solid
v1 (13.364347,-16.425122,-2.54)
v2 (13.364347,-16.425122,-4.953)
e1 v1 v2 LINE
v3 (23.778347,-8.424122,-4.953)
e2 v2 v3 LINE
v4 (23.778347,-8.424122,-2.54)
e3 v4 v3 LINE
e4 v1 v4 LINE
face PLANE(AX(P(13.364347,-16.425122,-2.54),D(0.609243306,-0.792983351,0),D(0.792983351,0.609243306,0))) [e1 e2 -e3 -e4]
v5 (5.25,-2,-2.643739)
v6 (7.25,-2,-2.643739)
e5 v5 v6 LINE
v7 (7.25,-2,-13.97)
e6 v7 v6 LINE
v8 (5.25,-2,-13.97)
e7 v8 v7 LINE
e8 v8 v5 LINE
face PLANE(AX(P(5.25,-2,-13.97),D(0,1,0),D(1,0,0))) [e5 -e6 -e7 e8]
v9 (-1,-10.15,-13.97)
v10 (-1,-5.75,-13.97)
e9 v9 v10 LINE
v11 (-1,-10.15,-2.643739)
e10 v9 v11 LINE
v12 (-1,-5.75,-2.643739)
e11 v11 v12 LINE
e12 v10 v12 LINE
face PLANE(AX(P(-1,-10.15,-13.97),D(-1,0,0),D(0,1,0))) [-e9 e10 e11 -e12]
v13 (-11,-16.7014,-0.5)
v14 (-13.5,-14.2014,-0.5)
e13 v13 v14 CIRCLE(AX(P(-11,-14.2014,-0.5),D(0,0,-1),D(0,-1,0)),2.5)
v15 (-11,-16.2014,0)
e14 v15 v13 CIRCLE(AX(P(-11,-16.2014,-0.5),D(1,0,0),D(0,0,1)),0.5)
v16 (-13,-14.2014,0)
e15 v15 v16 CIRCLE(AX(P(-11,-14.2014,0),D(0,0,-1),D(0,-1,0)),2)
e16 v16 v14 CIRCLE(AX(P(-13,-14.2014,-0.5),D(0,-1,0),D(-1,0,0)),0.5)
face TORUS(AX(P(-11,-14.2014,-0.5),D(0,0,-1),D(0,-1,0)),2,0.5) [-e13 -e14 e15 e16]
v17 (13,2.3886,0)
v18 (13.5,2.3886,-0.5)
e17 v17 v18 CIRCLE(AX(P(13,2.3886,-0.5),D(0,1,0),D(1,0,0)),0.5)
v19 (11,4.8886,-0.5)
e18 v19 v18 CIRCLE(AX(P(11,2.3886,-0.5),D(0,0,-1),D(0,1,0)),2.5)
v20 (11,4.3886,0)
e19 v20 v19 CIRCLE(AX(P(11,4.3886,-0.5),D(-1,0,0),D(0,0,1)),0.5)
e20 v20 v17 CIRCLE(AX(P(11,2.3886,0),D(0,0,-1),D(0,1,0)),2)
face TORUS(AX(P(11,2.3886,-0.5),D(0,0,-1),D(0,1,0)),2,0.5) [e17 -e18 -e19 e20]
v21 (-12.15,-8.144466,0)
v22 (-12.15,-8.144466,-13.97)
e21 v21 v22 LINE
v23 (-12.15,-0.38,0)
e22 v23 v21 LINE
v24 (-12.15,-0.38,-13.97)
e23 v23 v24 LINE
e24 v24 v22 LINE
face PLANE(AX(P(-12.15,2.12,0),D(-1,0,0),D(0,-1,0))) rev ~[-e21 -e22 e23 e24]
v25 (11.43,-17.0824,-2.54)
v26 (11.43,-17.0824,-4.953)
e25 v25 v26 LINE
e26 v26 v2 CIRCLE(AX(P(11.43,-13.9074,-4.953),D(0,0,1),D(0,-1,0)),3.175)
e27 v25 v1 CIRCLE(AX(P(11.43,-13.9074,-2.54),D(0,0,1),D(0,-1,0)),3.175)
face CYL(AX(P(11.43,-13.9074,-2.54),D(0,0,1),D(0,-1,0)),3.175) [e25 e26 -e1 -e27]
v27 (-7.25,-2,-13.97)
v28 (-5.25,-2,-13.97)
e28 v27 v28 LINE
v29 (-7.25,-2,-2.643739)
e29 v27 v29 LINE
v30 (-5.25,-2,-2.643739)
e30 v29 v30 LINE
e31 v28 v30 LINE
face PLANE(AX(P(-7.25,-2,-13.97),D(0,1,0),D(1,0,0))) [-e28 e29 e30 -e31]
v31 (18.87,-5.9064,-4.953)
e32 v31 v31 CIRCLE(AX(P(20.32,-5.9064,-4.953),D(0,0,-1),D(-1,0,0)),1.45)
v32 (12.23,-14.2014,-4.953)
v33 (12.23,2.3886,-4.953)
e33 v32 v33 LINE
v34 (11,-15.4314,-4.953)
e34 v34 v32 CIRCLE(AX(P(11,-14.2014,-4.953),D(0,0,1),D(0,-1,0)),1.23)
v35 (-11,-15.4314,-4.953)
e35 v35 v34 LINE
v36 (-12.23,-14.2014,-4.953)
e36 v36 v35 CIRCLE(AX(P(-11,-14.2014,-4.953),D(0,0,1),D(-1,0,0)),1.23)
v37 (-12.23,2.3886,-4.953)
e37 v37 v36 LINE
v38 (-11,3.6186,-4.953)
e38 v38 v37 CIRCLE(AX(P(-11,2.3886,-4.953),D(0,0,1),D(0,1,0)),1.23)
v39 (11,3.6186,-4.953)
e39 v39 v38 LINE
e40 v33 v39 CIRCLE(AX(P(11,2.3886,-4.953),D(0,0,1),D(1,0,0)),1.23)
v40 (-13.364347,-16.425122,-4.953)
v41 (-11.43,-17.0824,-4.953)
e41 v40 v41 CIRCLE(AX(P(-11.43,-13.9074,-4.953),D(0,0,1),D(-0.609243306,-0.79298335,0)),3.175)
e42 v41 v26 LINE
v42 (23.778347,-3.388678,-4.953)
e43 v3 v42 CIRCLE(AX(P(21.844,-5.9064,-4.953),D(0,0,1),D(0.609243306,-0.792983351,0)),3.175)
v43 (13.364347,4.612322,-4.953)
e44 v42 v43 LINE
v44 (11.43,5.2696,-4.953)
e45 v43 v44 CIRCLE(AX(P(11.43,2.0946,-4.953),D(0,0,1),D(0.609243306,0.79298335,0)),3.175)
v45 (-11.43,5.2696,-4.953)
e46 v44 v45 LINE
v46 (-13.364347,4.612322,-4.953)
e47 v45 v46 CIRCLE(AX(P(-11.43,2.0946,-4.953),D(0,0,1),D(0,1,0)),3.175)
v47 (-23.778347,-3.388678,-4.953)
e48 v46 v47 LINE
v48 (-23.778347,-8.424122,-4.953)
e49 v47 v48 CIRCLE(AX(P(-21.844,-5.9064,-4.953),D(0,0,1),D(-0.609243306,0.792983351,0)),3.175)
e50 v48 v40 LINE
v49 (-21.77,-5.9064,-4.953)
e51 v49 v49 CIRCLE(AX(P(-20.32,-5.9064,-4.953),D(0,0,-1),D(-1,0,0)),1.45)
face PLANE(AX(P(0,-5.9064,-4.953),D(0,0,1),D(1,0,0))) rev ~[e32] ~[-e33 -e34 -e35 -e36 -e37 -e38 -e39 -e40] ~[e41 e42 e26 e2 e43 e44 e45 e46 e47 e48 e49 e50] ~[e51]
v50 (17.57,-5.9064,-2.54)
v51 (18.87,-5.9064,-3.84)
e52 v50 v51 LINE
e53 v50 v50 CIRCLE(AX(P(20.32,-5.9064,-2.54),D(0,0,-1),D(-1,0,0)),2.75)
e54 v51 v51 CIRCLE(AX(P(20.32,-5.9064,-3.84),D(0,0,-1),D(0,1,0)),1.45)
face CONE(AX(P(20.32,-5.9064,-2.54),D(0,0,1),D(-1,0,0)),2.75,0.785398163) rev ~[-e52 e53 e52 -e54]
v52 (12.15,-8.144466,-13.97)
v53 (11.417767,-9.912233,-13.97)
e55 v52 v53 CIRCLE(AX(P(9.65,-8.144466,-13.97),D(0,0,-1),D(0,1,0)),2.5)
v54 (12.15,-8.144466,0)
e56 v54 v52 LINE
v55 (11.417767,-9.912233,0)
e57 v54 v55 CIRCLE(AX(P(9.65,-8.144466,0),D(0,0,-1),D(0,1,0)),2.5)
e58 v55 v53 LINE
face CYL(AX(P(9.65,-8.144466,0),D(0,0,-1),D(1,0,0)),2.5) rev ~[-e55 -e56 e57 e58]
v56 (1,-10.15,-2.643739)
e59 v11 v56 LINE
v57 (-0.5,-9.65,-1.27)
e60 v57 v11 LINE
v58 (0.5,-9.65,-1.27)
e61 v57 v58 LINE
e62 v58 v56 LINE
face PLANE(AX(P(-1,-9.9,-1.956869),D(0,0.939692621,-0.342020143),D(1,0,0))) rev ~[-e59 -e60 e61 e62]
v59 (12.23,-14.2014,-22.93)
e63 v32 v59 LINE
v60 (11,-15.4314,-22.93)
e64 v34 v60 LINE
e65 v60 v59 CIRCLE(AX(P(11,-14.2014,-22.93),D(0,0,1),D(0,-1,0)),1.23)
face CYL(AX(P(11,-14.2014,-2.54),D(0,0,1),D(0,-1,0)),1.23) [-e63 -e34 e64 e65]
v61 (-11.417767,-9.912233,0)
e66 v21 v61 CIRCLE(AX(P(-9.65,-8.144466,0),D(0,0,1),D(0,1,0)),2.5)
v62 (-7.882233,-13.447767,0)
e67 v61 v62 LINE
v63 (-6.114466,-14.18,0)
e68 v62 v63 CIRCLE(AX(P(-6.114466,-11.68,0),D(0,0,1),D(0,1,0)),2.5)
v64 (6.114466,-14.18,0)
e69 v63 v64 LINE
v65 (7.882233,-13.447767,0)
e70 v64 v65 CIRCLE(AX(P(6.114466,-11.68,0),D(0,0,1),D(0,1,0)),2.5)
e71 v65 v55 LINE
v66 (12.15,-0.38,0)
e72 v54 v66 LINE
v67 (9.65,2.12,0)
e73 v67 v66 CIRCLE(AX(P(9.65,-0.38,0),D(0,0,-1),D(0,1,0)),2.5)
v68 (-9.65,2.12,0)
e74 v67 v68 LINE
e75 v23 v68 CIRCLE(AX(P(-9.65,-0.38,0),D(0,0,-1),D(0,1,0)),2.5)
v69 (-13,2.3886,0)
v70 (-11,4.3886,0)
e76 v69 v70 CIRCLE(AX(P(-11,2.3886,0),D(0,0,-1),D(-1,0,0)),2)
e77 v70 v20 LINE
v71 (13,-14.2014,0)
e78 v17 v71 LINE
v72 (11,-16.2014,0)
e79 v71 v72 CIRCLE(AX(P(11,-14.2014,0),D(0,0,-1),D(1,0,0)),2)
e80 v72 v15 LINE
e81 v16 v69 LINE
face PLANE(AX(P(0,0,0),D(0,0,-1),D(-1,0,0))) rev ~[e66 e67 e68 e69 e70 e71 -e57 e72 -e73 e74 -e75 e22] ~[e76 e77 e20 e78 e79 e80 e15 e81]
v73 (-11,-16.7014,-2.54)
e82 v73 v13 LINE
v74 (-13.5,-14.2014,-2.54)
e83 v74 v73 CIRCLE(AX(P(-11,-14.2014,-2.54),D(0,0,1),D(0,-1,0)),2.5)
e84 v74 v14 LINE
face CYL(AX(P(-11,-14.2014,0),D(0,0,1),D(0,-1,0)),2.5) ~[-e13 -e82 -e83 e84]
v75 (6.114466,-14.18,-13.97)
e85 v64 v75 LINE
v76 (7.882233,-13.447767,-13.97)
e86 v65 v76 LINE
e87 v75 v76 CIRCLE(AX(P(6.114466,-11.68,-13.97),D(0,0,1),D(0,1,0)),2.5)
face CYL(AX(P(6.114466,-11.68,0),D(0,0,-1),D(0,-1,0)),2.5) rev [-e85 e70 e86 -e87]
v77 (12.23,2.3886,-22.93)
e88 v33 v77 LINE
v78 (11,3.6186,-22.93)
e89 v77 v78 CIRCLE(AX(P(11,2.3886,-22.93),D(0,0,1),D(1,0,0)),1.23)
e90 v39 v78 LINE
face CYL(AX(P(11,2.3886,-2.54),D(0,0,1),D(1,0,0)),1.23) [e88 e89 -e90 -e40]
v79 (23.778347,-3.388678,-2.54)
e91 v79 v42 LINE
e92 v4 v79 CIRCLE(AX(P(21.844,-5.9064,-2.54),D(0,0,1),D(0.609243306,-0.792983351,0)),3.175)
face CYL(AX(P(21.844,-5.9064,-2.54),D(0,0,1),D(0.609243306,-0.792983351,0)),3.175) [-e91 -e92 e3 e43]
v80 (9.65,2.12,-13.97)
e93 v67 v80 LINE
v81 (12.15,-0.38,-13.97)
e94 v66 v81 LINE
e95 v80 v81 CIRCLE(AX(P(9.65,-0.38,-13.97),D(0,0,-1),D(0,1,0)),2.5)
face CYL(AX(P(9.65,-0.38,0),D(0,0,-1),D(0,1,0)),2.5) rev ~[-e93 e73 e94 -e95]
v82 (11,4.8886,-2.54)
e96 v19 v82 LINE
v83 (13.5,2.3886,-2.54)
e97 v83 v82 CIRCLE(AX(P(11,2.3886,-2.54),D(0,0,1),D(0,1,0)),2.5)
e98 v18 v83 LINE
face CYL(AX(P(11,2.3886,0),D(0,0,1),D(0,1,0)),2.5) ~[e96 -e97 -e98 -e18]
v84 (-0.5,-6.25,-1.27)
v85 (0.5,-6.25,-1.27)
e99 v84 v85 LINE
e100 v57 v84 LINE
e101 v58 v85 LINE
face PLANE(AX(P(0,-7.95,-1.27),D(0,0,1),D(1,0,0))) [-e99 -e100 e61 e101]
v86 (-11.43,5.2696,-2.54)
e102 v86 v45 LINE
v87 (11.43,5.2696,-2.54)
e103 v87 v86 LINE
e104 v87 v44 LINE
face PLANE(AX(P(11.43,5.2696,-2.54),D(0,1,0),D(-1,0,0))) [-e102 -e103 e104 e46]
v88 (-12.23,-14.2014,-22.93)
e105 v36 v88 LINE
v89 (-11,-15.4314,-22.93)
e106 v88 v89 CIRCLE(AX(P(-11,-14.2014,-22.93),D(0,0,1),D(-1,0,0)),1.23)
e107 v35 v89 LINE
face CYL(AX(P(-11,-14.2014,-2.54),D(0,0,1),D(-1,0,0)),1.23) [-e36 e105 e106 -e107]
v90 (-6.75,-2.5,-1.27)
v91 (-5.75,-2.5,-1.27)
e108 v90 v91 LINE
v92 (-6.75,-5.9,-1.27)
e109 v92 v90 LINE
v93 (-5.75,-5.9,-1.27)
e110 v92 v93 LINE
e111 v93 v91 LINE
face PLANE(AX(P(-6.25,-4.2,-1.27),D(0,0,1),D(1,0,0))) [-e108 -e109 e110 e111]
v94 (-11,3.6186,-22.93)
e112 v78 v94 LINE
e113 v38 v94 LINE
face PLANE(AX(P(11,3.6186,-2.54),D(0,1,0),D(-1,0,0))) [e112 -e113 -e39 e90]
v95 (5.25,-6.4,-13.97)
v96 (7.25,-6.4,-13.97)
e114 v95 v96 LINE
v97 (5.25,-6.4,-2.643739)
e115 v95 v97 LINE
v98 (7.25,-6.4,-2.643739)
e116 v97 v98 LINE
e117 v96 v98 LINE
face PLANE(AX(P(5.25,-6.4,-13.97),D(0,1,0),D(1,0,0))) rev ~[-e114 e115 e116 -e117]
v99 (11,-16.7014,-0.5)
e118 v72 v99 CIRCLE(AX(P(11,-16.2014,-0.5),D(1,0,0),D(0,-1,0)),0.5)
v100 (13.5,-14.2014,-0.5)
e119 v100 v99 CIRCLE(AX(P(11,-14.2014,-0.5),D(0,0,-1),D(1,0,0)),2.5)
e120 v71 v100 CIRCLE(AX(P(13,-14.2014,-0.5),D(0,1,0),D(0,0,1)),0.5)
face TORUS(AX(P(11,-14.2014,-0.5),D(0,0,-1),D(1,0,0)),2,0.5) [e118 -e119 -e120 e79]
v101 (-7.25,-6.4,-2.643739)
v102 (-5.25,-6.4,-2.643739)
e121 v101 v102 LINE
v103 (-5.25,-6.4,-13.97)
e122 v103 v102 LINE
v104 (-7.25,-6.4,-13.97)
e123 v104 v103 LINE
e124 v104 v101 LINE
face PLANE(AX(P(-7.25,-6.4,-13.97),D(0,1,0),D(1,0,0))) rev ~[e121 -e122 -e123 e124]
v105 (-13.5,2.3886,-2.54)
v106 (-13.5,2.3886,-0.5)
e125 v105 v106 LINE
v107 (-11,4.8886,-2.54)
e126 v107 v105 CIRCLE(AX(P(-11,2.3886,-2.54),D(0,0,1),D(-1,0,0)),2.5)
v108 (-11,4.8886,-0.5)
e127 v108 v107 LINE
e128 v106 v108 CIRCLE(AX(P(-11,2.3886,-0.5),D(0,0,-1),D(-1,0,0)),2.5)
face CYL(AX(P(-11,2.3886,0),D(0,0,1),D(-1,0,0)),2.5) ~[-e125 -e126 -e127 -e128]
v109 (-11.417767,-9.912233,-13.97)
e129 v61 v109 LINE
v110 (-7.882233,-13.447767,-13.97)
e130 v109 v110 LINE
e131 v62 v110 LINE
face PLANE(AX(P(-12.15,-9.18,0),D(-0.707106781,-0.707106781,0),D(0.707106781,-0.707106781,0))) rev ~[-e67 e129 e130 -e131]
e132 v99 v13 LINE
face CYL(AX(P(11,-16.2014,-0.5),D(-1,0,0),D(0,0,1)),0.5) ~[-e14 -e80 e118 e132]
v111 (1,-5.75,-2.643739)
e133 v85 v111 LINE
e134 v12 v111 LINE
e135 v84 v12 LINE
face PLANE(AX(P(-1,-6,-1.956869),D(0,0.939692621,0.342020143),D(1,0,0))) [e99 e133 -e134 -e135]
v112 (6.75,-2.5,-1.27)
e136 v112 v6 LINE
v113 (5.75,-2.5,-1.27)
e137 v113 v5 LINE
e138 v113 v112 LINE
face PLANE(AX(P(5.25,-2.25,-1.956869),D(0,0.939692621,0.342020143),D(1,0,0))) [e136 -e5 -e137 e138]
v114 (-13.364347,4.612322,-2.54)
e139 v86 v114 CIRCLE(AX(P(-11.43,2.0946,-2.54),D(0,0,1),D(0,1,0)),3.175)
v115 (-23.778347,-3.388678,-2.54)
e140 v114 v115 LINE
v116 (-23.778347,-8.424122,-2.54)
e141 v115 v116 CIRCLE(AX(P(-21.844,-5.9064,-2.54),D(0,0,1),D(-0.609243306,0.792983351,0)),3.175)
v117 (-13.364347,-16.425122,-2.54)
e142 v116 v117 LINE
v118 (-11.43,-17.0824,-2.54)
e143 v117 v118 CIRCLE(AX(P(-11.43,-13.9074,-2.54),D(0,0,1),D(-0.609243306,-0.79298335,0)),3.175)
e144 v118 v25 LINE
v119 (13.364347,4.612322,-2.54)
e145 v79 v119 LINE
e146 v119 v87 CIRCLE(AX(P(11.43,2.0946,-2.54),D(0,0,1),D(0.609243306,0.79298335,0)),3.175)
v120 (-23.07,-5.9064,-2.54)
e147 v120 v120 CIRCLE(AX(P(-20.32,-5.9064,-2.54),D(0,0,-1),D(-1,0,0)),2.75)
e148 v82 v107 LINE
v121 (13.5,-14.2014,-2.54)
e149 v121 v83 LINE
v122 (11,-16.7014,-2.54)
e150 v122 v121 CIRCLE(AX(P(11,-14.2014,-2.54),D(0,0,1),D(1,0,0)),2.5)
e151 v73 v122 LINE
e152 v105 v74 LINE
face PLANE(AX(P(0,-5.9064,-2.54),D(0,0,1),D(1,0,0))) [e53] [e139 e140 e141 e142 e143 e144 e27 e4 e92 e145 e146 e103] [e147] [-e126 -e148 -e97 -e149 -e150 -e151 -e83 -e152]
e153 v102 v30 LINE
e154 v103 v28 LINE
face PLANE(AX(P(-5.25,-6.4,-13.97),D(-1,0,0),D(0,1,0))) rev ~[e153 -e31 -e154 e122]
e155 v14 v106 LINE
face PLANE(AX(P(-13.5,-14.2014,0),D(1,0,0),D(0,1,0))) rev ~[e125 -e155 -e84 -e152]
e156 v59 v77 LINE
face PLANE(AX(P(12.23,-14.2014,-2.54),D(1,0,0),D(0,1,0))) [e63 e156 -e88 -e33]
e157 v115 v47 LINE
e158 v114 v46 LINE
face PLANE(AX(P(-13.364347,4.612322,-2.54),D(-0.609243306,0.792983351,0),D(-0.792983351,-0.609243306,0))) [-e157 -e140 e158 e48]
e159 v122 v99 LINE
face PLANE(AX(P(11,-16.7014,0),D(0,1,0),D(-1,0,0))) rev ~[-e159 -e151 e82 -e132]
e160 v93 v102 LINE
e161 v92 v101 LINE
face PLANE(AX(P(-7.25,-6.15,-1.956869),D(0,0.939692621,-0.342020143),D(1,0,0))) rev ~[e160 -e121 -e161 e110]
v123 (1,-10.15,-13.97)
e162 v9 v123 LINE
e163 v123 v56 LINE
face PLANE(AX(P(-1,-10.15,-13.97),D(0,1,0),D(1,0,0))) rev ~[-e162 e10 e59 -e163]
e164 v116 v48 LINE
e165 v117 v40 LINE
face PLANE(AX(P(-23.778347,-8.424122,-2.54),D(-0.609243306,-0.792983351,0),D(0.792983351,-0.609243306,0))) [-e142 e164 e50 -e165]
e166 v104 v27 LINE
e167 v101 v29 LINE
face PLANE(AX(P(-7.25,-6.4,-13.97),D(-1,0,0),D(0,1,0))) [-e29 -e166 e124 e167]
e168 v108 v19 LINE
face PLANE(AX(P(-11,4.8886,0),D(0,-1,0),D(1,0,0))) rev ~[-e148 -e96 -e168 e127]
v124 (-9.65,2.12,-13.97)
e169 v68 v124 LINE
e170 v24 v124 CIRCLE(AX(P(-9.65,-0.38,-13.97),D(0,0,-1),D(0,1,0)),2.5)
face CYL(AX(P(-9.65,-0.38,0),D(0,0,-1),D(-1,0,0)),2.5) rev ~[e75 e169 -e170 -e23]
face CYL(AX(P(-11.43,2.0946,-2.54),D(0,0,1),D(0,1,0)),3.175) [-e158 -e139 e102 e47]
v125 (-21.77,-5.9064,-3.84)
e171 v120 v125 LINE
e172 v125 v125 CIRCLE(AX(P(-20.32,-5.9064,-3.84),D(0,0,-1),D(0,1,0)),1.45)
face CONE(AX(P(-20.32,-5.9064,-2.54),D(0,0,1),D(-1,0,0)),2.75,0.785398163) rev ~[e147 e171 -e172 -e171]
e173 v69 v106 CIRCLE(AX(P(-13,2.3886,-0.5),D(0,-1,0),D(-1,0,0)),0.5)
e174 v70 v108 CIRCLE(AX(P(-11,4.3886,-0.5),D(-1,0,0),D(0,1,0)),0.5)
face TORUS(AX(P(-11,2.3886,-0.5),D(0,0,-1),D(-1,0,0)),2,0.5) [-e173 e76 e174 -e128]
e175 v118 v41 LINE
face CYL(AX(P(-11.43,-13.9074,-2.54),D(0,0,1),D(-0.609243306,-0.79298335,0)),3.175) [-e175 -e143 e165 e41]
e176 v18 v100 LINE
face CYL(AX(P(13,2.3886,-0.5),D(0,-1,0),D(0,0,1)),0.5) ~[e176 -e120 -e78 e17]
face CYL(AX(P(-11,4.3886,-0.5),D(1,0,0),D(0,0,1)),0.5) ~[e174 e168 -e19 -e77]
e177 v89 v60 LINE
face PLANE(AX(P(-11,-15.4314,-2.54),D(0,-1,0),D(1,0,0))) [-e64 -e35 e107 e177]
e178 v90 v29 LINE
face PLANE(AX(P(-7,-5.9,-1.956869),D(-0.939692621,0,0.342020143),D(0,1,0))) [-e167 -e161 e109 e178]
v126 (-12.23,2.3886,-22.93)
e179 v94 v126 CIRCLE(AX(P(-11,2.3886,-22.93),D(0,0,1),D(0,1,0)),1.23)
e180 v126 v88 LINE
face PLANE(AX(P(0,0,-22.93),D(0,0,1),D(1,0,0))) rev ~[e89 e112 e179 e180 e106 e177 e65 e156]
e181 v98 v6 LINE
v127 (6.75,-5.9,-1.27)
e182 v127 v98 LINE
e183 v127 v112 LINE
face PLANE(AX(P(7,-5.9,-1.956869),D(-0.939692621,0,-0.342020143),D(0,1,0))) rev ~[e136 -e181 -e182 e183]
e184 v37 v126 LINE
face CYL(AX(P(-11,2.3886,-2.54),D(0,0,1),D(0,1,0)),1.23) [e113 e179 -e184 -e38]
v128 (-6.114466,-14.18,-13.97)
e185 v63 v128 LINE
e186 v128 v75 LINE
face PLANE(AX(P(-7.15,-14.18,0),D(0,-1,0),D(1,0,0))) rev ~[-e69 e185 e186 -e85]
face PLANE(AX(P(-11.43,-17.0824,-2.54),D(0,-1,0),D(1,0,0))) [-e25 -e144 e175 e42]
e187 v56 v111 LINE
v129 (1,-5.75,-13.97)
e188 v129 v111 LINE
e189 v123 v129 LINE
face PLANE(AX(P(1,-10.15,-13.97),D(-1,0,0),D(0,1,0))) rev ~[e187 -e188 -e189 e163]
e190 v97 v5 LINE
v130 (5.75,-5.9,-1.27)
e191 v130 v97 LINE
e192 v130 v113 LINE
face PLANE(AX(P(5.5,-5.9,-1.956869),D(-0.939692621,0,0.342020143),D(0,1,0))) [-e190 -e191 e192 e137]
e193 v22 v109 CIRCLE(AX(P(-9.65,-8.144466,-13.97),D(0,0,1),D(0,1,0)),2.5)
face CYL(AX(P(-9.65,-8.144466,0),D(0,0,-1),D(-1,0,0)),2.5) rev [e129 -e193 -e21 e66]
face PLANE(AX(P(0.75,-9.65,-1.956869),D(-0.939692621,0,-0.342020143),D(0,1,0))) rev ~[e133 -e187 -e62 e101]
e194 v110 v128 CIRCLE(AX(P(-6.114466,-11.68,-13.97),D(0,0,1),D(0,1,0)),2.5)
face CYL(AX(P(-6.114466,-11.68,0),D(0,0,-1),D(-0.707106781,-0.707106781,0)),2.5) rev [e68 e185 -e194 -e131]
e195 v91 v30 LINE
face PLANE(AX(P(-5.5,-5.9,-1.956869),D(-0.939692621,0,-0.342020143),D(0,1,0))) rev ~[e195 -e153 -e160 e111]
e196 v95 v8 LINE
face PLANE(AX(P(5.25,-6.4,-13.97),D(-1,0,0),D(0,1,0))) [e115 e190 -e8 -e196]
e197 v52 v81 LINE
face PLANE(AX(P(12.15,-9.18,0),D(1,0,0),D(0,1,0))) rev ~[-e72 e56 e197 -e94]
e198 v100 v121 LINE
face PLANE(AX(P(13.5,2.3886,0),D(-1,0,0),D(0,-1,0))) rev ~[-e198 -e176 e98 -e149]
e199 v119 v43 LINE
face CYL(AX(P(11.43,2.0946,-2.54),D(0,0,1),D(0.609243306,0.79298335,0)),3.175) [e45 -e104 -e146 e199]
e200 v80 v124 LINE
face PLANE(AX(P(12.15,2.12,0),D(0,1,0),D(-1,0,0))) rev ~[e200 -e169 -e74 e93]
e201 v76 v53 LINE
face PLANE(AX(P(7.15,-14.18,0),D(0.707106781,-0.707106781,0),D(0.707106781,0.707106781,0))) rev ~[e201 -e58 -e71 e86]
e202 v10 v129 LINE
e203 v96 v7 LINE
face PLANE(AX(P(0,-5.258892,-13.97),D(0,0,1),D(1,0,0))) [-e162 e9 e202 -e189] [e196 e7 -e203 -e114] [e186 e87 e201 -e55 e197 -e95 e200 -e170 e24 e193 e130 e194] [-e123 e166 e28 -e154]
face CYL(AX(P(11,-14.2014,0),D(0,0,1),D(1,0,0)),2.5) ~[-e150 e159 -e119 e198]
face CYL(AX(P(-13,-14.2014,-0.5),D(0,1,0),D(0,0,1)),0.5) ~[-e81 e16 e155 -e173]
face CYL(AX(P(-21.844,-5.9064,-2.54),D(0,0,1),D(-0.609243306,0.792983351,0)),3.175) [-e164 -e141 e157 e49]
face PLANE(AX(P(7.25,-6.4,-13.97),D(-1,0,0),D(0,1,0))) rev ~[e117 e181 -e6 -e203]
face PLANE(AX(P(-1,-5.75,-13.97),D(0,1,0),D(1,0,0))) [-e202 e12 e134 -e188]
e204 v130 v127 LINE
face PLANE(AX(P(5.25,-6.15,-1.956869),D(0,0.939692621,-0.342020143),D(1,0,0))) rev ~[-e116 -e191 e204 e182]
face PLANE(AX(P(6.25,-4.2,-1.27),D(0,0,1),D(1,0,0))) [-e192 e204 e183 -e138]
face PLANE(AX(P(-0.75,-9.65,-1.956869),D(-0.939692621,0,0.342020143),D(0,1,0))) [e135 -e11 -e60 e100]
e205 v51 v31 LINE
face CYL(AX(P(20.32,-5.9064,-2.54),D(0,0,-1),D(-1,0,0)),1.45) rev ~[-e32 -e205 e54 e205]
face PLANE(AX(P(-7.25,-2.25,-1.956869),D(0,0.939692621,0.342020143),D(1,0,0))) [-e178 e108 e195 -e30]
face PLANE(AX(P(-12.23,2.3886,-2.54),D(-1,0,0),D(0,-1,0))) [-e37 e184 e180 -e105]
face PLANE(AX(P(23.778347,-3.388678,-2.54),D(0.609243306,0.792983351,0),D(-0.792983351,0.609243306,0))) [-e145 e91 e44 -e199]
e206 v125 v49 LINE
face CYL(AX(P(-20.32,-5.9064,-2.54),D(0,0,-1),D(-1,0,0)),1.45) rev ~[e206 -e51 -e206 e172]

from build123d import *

# Parameters (mm, degrees)
EXTRUDE1_DEPTH                                    = 5.15
FILLET1_R                                         = 1
EXTRUDE2_DEPTH                                    = 17.78
EXTRUDE3_DEPTH                                    = 13.97
EXTRUDE4_DEPTH                                    = 3.81
FILLET2_R                                         = 2.5
SKETCH5_W                                         = 2
SKETCH5_H                                         = 4.4
EXTRUDE5_DEPTH                                    = 12.7
CHAMFER1_SIZE                                     = 0.5
CHAMFER1_SIZE2                                    = 1.37373871
CHAMFER1_PART_2_SIZE                              = 0.5
CHAMFER1_PART_2_SIZE2                             = 1.37373871
CHAMFER1_PART_3_SIZE                              = 0.5
CHAMFER1_PART_3_SIZE2                             = 1.37373871
CHAMFER2_SIZE                                     = 0.5
CHAMFER2_SIZE2                                    = 1.37373871
CHAMFER2_PART_2_SIZE                              = 0.5
CHAMFER2_PART_2_SIZE2                             = 1.37373871
CHAMFER2_PART_3_SIZE                              = 0.5
CHAMFER2_PART_3_SIZE2                             = 1.37373871
FILLET3_R                                         = 0.5
SKETCH10_OUTSIDE_W                                = 57.448
SKETCH10_OUTSIDE_H                                = 47.956
EXTRUDE10_DEPTH                                   = 20.12
SKETCH11_OUTSIDE_W                                = 37.296
SKETCH11_OUTSIDE_H                                = 31.886
EXTRUDE11_DEPTH                                   = 21.39
EXTRUDE12_DEPTH                                   = 2.413
CSK_FOR_M2_5_FLAT_HEAD_MACHINE_SCREW1_D           = 2.9
CSK_FOR_M2_5_FLAT_HEAD_MACHINE_SCREW1_CSINK_D     = 5.5
CSK_FOR_M2_5_FLAT_HEAD_MACHINE_SCREW1_CSINK_ANGLE = 90


with BuildPart() as part:
    # Sketch1 → Extrude1 (new body)
    with BuildSketch(Plane.XY):
        with BuildLine():
            Line((-13.6, 17), (13.6, 17))
            Line((13.6, 17), (21.429179607, 1.341640786))
            ThreePointArc((21.429179607, 1.341640786), (21.745898034, 0), (21.429179607, -1.341640786))
            Line((21.429179607, -1.341640786), (13.6, -17))
            Line((13.6, -17), (-13.6, -17))
            Line((-13.6, -17), (-21.429179607, -1.341640786))
            ThreePointArc((-21.429179607, -1.341640786), (-21.745898034, 0), (-21.429179607, 1.341640786))
            Line((-21.429179607, 1.341640786), (-13.6, 17))
        make_face()
    extrude(amount=-EXTRUDE1_DEPTH)

    # Fillet1
    fillet1_edges = [part.edges().sort_by_distance(p)[0] for p in [
        (-13.6, 17, -2.575),
        (13.6, 17, -2.575),
        (13.6, -17, -2.575),
        (-13.6, -17, -2.575),
    ]]
    fillet(fillet1_edges, radius=FILLET1_R)

    # Sketch2 → Extrude2 (add)
    with BuildSketch(Plane(origin=(0, 0, -5.15), x_dir=(-1, 0, 0), z_dir=(0, 0, -1))):
        with BuildLine():
            Line((-12.9, 15.65), (12.9, 15.65))
            ThreePointArc((12.9, 15.65), (13.607106781, 15.357106781), (13.9, 14.65))
            Line((13.9, 14.65), (13.9, -14.65))
            ThreePointArc((13.9, -14.65), (13.607106781, -15.357106781), (12.9, -15.65))
            Line((12.9, -15.65), (-12.9, -15.65))
            ThreePointArc((-12.9, -15.65), (-13.607106781, -15.357106781), (-13.9, -14.65))
            Line((-13.9, -14.65), (-13.9, 14.65))
            ThreePointArc((-13.9, 14.65), (-13.607106781, 15.357106781), (-12.9, 15.65))
        make_face()
    extrude(amount=EXTRUDE2_DEPTH)

    # Sketch3 → Extrude3 (cut)
    with BuildSketch(Plane.XY):
        Polygon((-12.15, -9.18), (-7.15, -14.18), (7.15, -14.18), (12.15, -9.18), (12.15, 2.12), (-12.15, 2.12), align=None)
    extrude(amount=-EXTRUDE3_DEPTH, mode=Mode.SUBTRACT)

    # Sketch4 → Extrude4 (cut)
    with BuildSketch(Plane.XY):
        with BuildLine():
            Line((-21.429179607, -1.341640786), (-13.876393202, -16.447213595))
            ThreePointArc((-13.876393202, -16.447213595), (-13.507697123, -16.850650808), (-12.981966011, -17))
            Line((-12.981966011, -17), (12.981966011, -17))
            ThreePointArc((12.981966011, -17), (13.507697123, -16.850650808), (13.876393202, -16.447213595))
            Line((13.876393202, -16.447213595), (21.429179607, -1.341640786))
            ThreePointArc((21.429179607, -1.341640786), (21.745898034, 0), (21.429179607, 1.341640786))
            Line((21.429179607, 1.341640786), (13.876393202, 16.447213595))
            ThreePointArc((13.876393202, 16.447213595), (13.507697123, 16.850650808), (12.981966011, 17))
            Line((12.981966011, 17), (-12.981966011, 17))
            ThreePointArc((-12.981966011, 17), (-13.507697123, 16.850650808), (-13.876393202, 16.447213595))
            Line((-13.876393202, 16.447213595), (-21.429179607, 1.341640786))
            ThreePointArc((-21.429179607, 1.341640786), (-21.745898034, 0), (-21.429179607, -1.341640786))
        make_face()
        with BuildLine():
            Line((-11, 4.8886), (11, 4.8886))
            ThreePointArc((11, 4.8886), (12.767766953, 4.156366953), (13.5, 2.3886))
            Line((13.5, 2.3886), (13.5, -14.2014))
            ThreePointArc((13.5, -14.2014), (12.767766953, -15.969166953), (11, -16.7014))
            Line((11, -16.7014), (-11, -16.7014))
            ThreePointArc((-11, -16.7014), (-12.767766953, -15.969166953), (-13.5, -14.2014))
            Line((-13.5, -14.2014), (-13.5, 2.3886))
            ThreePointArc((-13.5, 2.3886), (-12.767766953, 4.156366953), (-11, 4.8886))
        make_face(mode=Mode.SUBTRACT)
    extrude(amount=-EXTRUDE4_DEPTH, mode=Mode.SUBTRACT)

    # Fillet2
    fillet2_edges = [part.edges().sort_by_distance(p)[0] for p in [
        (-12.15, -9.18, -6.985),
        (-12.15, 2.12, -6.985),
        (12.15, 2.12, -6.985),
        (12.15, -9.18, -6.985),
        (7.15, -14.18, -6.985),
        (-7.15, -14.18, -6.985),
    ]]
    fillet(fillet2_edges, radius=FILLET2_R)

    # Sketch5 → Extrude5 (add)
    with BuildSketch(Plane.XY.offset(-13.97)):
        with Locations((-6.25, -4.2)):
            Rectangle(SKETCH5_W, SKETCH5_H)
        with Locations((0, -7.95)):
            Rectangle(SKETCH5_W, SKETCH5_H)
        with Locations((6.25, -4.2)):
            Rectangle(SKETCH5_W, SKETCH5_H)
    extrude(amount=EXTRUDE5_DEPTH)

    # Chamfer1
    chamfer1_edges = [part.edges().sort_by_distance(p)[0] for p in [
        (-6.25, -6.4, -1.27),
        (-6.25, -2, -1.27),
    ]]
    chamfer1_side = [part.faces().sort_by_distance(p)[0] for p in [
        (-6.25, -4.2, -1.27),
    ]]
    chamfer(chamfer1_edges, length=CHAMFER1_SIZE, length2=CHAMFER1_SIZE2, reference=chamfer1_side[0])

    # Chamfer1 part 2
    chamfer1_part_2_edges = [part.edges().sort_by_distance(p)[0] for p in [
        (0, -10.15, -1.27),
        (0, -5.75, -1.27),
    ]]
    chamfer1_part_2_side = [part.faces().sort_by_distance(p)[0] for p in [
        (0, -7.95, -1.27),
    ]]
    chamfer(chamfer1_part_2_edges, length=CHAMFER1_PART_2_SIZE, length2=CHAMFER1_PART_2_SIZE2, reference=chamfer1_part_2_side[0])

    # Chamfer1 part 3
    chamfer1_part_3_edges = [part.edges().sort_by_distance(p)[0] for p in [
        (6.25, -2, -1.27),
        (6.25, -6.4, -1.27),
    ]]
    chamfer1_part_3_side = [part.faces().sort_by_distance(p)[0] for p in [
        (6.25, -4.2, -1.27),
    ]]
    chamfer(chamfer1_part_3_edges, length=CHAMFER1_PART_3_SIZE, length2=CHAMFER1_PART_3_SIZE2, reference=chamfer1_part_3_side[0])

    # Chamfer2
    chamfer2_edges = [part.edges().sort_by_distance(p)[0] for p in [
        (7.25, -4.2, -1.27),
        (5.25, -4.2, -1.27),
    ]]
    chamfer2_side = [part.faces().sort_by_distance(p)[0] for p in [
        (6.25, -4.2, -1.27),
    ]]
    chamfer(chamfer2_edges, length=CHAMFER2_SIZE, length2=CHAMFER2_SIZE2, reference=chamfer2_side[0])

    # Chamfer2 part 2
    chamfer2_part_2_edges = [part.edges().sort_by_distance(p)[0] for p in [
        (1, -7.95, -1.27),
        (-1, -7.95, -1.27),
    ]]
    chamfer2_part_2_side = [part.faces().sort_by_distance(p)[0] for p in [
        (0, -7.95, -1.27),
    ]]
    chamfer(chamfer2_part_2_edges, length=CHAMFER2_PART_2_SIZE, length2=CHAMFER2_PART_2_SIZE2, reference=chamfer2_part_2_side[0])

    # Chamfer2 part 3
    chamfer2_part_3_edges = [part.edges().sort_by_distance(p)[0] for p in [
        (-7.25, -4.2, -1.27),
        (-5.25, -4.2, -1.27),
    ]]
    chamfer2_part_3_side = [part.faces().sort_by_distance(p)[0] for p in [
        (-6.25, -4.2, -1.27),
    ]]
    chamfer(chamfer2_part_3_edges, length=CHAMFER2_PART_3_SIZE, length2=CHAMFER2_PART_3_SIZE2, reference=chamfer2_part_3_side[0])

    # Fillet3
    fillet3_edges = [part.edges().sort_by_distance(p)[0] for p in [
        (-12.767766953, 4.156366953, 0),
        (0, 4.8886, 0),
        (12.767766953, 4.156366953, 0),
        (13.5, -5.9064, 0),
        (12.767766953, -15.969166953, 0),
        (0, -16.7014, 0),
        (-12.767766953, -15.969166953, 0),
        (-13.5, -5.9064, 0),
    ]]
    fillet(fillet3_edges, radius=FILLET3_R)

    # Sketch10 outside → Extrude10 (cut, through all)
    with BuildSketch(Plane.XY.offset(-3.81)):
        Rectangle(SKETCH10_OUTSIDE_W, SKETCH10_OUTSIDE_H)
        with BuildLine():
            Line((-13.5, 2.3886), (-13.5, -14.2014))
            ThreePointArc((-13.5, -14.2014), (-12.767766953, -15.969166953), (-11, -16.7014))
            Line((-11, -16.7014), (11, -16.7014))
            ThreePointArc((11, -16.7014), (12.767766953, -15.969166953), (13.5, -14.2014))
            Line((13.5, -14.2014), (13.5, 2.3886))
            ThreePointArc((13.5, 2.3886), (12.767766953, 4.156366953), (11, 4.8886))
            Line((11, 4.8886), (-11, 4.8886))
            ThreePointArc((-11, 4.8886), (-12.767766953, 4.156366953), (-13.5, 2.3886))
        make_face(mode=Mode.SUBTRACT)
    extrude(amount=-EXTRUDE10_DEPTH, mode=Mode.SUBTRACT)

    # Sketch11 outside → Extrude11 (cut, through all)
    with BuildSketch(Plane.XY.offset(-2.54)):
        with Locations((0, -5.906)):
            Rectangle(SKETCH11_OUTSIDE_W, SKETCH11_OUTSIDE_H)
        with BuildLine():
            Line((-11, -15.4314), (11, -15.4314))
            ThreePointArc((11, -15.4314), (11.869741341, -15.071141341), (12.23, -14.2014))
            Line((12.23, -14.2014), (12.23, 2.3886))
            ThreePointArc((12.23, 2.3886), (11.869741341, 3.258341341), (11, 3.6186))
            Line((11, 3.6186), (-11, 3.6186))
            ThreePointArc((-11, 3.6186), (-11.869741341, 3.258341341), (-12.23, 2.3886))
            Line((-12.23, 2.3886), (-12.23, -14.2014))
            ThreePointArc((-12.23, -14.2014), (-11.869741341, -15.071141341), (-11, -15.4314))
        make_face(mode=Mode.SUBTRACT)
    extrude(amount=-EXTRUDE11_DEPTH, mode=Mode.SUBTRACT)

    # Sketch12 → Extrude12 (add)
    with BuildSketch(Plane(origin=(0, 0, -2.54), x_dir=(-1, 0, 0), z_dir=(0, 0, -1))):
        with BuildLine():
            Line((-11.43, 5.2696), (11.43, 5.2696))
            ThreePointArc((11.43, 5.2696), (12.451483532, 5.100793007), (13.364347496, 4.612322138))
            Line((13.364347496, 4.612322138), (23.778347496, -3.388677862))
            ThreePointArc((23.778347496, -3.388677862), (25.019, -5.9064), (23.778347496, -8.424122138))
            Line((23.778347496, -8.424122138), (13.364347496, -16.425122138))
            ThreePointArc((13.364347496, -16.425122138), (12.451483532, -16.913593007), (11.43, -17.0824))
            Line((11.43, -17.0824), (-11.43, -17.0824))
            ThreePointArc((-11.43, -17.0824), (-12.451483532, -16.913593007), (-13.364347496, -16.425122138))
            Line((-13.364347496, -16.425122138), (-23.778347496, -8.424122138))
            ThreePointArc((-23.778347496, -8.424122138), (-25.019, -5.9064), (-23.778347496, -3.388677862))
            Line((-23.778347496, -3.388677862), (-13.364347496, 4.612322138))
            ThreePointArc((-13.364347496, 4.612322138), (-12.451483532, 5.100793007), (-11.43, 5.2696))
        make_face()
        with BuildLine():
            Line((12.23, 2.3886), (12.23, -14.2014))
            ThreePointArc((12.23, -14.2014), (11.869741341, -15.071141341), (11, -15.4314))
            Line((11, -15.4314), (-11, -15.4314))
            ThreePointArc((-11, -15.4314), (-11.869741341, -15.071141341), (-12.23, -14.2014))
            Line((-12.23, -14.2014), (-12.23, 2.3886))
            ThreePointArc((-12.23, 2.3886), (-11.869741341, 3.258341341), (-11, 3.6186))
            Line((-11, 3.6186), (11, 3.6186))
            ThreePointArc((11, 3.6186), (11.869741341, 3.258341341), (12.23, 2.3886))
        make_face(mode=Mode.SUBTRACT)
    extrude(amount=EXTRUDE12_DEPTH)

    # CSK for M2.5 Flat Head Machine Screw1 (through all)
    with Locations(Plane.XY.offset(-2.54)):
        with Locations((-20.32, -5.9064), (20.32, -5.9064)):
            CounterSinkHole(CSK_FOR_M2_5_FLAT_HEAD_MACHINE_SCREW1_D / 2, CSK_FOR_M2_5_FLAT_HEAD_MACHINE_SCREW1_CSINK_D / 2, counter_sink_angle=CSK_FOR_M2_5_FLAT_HEAD_MACHINE_SCREW1_CSINK_ANGLE)


solid = part.part
